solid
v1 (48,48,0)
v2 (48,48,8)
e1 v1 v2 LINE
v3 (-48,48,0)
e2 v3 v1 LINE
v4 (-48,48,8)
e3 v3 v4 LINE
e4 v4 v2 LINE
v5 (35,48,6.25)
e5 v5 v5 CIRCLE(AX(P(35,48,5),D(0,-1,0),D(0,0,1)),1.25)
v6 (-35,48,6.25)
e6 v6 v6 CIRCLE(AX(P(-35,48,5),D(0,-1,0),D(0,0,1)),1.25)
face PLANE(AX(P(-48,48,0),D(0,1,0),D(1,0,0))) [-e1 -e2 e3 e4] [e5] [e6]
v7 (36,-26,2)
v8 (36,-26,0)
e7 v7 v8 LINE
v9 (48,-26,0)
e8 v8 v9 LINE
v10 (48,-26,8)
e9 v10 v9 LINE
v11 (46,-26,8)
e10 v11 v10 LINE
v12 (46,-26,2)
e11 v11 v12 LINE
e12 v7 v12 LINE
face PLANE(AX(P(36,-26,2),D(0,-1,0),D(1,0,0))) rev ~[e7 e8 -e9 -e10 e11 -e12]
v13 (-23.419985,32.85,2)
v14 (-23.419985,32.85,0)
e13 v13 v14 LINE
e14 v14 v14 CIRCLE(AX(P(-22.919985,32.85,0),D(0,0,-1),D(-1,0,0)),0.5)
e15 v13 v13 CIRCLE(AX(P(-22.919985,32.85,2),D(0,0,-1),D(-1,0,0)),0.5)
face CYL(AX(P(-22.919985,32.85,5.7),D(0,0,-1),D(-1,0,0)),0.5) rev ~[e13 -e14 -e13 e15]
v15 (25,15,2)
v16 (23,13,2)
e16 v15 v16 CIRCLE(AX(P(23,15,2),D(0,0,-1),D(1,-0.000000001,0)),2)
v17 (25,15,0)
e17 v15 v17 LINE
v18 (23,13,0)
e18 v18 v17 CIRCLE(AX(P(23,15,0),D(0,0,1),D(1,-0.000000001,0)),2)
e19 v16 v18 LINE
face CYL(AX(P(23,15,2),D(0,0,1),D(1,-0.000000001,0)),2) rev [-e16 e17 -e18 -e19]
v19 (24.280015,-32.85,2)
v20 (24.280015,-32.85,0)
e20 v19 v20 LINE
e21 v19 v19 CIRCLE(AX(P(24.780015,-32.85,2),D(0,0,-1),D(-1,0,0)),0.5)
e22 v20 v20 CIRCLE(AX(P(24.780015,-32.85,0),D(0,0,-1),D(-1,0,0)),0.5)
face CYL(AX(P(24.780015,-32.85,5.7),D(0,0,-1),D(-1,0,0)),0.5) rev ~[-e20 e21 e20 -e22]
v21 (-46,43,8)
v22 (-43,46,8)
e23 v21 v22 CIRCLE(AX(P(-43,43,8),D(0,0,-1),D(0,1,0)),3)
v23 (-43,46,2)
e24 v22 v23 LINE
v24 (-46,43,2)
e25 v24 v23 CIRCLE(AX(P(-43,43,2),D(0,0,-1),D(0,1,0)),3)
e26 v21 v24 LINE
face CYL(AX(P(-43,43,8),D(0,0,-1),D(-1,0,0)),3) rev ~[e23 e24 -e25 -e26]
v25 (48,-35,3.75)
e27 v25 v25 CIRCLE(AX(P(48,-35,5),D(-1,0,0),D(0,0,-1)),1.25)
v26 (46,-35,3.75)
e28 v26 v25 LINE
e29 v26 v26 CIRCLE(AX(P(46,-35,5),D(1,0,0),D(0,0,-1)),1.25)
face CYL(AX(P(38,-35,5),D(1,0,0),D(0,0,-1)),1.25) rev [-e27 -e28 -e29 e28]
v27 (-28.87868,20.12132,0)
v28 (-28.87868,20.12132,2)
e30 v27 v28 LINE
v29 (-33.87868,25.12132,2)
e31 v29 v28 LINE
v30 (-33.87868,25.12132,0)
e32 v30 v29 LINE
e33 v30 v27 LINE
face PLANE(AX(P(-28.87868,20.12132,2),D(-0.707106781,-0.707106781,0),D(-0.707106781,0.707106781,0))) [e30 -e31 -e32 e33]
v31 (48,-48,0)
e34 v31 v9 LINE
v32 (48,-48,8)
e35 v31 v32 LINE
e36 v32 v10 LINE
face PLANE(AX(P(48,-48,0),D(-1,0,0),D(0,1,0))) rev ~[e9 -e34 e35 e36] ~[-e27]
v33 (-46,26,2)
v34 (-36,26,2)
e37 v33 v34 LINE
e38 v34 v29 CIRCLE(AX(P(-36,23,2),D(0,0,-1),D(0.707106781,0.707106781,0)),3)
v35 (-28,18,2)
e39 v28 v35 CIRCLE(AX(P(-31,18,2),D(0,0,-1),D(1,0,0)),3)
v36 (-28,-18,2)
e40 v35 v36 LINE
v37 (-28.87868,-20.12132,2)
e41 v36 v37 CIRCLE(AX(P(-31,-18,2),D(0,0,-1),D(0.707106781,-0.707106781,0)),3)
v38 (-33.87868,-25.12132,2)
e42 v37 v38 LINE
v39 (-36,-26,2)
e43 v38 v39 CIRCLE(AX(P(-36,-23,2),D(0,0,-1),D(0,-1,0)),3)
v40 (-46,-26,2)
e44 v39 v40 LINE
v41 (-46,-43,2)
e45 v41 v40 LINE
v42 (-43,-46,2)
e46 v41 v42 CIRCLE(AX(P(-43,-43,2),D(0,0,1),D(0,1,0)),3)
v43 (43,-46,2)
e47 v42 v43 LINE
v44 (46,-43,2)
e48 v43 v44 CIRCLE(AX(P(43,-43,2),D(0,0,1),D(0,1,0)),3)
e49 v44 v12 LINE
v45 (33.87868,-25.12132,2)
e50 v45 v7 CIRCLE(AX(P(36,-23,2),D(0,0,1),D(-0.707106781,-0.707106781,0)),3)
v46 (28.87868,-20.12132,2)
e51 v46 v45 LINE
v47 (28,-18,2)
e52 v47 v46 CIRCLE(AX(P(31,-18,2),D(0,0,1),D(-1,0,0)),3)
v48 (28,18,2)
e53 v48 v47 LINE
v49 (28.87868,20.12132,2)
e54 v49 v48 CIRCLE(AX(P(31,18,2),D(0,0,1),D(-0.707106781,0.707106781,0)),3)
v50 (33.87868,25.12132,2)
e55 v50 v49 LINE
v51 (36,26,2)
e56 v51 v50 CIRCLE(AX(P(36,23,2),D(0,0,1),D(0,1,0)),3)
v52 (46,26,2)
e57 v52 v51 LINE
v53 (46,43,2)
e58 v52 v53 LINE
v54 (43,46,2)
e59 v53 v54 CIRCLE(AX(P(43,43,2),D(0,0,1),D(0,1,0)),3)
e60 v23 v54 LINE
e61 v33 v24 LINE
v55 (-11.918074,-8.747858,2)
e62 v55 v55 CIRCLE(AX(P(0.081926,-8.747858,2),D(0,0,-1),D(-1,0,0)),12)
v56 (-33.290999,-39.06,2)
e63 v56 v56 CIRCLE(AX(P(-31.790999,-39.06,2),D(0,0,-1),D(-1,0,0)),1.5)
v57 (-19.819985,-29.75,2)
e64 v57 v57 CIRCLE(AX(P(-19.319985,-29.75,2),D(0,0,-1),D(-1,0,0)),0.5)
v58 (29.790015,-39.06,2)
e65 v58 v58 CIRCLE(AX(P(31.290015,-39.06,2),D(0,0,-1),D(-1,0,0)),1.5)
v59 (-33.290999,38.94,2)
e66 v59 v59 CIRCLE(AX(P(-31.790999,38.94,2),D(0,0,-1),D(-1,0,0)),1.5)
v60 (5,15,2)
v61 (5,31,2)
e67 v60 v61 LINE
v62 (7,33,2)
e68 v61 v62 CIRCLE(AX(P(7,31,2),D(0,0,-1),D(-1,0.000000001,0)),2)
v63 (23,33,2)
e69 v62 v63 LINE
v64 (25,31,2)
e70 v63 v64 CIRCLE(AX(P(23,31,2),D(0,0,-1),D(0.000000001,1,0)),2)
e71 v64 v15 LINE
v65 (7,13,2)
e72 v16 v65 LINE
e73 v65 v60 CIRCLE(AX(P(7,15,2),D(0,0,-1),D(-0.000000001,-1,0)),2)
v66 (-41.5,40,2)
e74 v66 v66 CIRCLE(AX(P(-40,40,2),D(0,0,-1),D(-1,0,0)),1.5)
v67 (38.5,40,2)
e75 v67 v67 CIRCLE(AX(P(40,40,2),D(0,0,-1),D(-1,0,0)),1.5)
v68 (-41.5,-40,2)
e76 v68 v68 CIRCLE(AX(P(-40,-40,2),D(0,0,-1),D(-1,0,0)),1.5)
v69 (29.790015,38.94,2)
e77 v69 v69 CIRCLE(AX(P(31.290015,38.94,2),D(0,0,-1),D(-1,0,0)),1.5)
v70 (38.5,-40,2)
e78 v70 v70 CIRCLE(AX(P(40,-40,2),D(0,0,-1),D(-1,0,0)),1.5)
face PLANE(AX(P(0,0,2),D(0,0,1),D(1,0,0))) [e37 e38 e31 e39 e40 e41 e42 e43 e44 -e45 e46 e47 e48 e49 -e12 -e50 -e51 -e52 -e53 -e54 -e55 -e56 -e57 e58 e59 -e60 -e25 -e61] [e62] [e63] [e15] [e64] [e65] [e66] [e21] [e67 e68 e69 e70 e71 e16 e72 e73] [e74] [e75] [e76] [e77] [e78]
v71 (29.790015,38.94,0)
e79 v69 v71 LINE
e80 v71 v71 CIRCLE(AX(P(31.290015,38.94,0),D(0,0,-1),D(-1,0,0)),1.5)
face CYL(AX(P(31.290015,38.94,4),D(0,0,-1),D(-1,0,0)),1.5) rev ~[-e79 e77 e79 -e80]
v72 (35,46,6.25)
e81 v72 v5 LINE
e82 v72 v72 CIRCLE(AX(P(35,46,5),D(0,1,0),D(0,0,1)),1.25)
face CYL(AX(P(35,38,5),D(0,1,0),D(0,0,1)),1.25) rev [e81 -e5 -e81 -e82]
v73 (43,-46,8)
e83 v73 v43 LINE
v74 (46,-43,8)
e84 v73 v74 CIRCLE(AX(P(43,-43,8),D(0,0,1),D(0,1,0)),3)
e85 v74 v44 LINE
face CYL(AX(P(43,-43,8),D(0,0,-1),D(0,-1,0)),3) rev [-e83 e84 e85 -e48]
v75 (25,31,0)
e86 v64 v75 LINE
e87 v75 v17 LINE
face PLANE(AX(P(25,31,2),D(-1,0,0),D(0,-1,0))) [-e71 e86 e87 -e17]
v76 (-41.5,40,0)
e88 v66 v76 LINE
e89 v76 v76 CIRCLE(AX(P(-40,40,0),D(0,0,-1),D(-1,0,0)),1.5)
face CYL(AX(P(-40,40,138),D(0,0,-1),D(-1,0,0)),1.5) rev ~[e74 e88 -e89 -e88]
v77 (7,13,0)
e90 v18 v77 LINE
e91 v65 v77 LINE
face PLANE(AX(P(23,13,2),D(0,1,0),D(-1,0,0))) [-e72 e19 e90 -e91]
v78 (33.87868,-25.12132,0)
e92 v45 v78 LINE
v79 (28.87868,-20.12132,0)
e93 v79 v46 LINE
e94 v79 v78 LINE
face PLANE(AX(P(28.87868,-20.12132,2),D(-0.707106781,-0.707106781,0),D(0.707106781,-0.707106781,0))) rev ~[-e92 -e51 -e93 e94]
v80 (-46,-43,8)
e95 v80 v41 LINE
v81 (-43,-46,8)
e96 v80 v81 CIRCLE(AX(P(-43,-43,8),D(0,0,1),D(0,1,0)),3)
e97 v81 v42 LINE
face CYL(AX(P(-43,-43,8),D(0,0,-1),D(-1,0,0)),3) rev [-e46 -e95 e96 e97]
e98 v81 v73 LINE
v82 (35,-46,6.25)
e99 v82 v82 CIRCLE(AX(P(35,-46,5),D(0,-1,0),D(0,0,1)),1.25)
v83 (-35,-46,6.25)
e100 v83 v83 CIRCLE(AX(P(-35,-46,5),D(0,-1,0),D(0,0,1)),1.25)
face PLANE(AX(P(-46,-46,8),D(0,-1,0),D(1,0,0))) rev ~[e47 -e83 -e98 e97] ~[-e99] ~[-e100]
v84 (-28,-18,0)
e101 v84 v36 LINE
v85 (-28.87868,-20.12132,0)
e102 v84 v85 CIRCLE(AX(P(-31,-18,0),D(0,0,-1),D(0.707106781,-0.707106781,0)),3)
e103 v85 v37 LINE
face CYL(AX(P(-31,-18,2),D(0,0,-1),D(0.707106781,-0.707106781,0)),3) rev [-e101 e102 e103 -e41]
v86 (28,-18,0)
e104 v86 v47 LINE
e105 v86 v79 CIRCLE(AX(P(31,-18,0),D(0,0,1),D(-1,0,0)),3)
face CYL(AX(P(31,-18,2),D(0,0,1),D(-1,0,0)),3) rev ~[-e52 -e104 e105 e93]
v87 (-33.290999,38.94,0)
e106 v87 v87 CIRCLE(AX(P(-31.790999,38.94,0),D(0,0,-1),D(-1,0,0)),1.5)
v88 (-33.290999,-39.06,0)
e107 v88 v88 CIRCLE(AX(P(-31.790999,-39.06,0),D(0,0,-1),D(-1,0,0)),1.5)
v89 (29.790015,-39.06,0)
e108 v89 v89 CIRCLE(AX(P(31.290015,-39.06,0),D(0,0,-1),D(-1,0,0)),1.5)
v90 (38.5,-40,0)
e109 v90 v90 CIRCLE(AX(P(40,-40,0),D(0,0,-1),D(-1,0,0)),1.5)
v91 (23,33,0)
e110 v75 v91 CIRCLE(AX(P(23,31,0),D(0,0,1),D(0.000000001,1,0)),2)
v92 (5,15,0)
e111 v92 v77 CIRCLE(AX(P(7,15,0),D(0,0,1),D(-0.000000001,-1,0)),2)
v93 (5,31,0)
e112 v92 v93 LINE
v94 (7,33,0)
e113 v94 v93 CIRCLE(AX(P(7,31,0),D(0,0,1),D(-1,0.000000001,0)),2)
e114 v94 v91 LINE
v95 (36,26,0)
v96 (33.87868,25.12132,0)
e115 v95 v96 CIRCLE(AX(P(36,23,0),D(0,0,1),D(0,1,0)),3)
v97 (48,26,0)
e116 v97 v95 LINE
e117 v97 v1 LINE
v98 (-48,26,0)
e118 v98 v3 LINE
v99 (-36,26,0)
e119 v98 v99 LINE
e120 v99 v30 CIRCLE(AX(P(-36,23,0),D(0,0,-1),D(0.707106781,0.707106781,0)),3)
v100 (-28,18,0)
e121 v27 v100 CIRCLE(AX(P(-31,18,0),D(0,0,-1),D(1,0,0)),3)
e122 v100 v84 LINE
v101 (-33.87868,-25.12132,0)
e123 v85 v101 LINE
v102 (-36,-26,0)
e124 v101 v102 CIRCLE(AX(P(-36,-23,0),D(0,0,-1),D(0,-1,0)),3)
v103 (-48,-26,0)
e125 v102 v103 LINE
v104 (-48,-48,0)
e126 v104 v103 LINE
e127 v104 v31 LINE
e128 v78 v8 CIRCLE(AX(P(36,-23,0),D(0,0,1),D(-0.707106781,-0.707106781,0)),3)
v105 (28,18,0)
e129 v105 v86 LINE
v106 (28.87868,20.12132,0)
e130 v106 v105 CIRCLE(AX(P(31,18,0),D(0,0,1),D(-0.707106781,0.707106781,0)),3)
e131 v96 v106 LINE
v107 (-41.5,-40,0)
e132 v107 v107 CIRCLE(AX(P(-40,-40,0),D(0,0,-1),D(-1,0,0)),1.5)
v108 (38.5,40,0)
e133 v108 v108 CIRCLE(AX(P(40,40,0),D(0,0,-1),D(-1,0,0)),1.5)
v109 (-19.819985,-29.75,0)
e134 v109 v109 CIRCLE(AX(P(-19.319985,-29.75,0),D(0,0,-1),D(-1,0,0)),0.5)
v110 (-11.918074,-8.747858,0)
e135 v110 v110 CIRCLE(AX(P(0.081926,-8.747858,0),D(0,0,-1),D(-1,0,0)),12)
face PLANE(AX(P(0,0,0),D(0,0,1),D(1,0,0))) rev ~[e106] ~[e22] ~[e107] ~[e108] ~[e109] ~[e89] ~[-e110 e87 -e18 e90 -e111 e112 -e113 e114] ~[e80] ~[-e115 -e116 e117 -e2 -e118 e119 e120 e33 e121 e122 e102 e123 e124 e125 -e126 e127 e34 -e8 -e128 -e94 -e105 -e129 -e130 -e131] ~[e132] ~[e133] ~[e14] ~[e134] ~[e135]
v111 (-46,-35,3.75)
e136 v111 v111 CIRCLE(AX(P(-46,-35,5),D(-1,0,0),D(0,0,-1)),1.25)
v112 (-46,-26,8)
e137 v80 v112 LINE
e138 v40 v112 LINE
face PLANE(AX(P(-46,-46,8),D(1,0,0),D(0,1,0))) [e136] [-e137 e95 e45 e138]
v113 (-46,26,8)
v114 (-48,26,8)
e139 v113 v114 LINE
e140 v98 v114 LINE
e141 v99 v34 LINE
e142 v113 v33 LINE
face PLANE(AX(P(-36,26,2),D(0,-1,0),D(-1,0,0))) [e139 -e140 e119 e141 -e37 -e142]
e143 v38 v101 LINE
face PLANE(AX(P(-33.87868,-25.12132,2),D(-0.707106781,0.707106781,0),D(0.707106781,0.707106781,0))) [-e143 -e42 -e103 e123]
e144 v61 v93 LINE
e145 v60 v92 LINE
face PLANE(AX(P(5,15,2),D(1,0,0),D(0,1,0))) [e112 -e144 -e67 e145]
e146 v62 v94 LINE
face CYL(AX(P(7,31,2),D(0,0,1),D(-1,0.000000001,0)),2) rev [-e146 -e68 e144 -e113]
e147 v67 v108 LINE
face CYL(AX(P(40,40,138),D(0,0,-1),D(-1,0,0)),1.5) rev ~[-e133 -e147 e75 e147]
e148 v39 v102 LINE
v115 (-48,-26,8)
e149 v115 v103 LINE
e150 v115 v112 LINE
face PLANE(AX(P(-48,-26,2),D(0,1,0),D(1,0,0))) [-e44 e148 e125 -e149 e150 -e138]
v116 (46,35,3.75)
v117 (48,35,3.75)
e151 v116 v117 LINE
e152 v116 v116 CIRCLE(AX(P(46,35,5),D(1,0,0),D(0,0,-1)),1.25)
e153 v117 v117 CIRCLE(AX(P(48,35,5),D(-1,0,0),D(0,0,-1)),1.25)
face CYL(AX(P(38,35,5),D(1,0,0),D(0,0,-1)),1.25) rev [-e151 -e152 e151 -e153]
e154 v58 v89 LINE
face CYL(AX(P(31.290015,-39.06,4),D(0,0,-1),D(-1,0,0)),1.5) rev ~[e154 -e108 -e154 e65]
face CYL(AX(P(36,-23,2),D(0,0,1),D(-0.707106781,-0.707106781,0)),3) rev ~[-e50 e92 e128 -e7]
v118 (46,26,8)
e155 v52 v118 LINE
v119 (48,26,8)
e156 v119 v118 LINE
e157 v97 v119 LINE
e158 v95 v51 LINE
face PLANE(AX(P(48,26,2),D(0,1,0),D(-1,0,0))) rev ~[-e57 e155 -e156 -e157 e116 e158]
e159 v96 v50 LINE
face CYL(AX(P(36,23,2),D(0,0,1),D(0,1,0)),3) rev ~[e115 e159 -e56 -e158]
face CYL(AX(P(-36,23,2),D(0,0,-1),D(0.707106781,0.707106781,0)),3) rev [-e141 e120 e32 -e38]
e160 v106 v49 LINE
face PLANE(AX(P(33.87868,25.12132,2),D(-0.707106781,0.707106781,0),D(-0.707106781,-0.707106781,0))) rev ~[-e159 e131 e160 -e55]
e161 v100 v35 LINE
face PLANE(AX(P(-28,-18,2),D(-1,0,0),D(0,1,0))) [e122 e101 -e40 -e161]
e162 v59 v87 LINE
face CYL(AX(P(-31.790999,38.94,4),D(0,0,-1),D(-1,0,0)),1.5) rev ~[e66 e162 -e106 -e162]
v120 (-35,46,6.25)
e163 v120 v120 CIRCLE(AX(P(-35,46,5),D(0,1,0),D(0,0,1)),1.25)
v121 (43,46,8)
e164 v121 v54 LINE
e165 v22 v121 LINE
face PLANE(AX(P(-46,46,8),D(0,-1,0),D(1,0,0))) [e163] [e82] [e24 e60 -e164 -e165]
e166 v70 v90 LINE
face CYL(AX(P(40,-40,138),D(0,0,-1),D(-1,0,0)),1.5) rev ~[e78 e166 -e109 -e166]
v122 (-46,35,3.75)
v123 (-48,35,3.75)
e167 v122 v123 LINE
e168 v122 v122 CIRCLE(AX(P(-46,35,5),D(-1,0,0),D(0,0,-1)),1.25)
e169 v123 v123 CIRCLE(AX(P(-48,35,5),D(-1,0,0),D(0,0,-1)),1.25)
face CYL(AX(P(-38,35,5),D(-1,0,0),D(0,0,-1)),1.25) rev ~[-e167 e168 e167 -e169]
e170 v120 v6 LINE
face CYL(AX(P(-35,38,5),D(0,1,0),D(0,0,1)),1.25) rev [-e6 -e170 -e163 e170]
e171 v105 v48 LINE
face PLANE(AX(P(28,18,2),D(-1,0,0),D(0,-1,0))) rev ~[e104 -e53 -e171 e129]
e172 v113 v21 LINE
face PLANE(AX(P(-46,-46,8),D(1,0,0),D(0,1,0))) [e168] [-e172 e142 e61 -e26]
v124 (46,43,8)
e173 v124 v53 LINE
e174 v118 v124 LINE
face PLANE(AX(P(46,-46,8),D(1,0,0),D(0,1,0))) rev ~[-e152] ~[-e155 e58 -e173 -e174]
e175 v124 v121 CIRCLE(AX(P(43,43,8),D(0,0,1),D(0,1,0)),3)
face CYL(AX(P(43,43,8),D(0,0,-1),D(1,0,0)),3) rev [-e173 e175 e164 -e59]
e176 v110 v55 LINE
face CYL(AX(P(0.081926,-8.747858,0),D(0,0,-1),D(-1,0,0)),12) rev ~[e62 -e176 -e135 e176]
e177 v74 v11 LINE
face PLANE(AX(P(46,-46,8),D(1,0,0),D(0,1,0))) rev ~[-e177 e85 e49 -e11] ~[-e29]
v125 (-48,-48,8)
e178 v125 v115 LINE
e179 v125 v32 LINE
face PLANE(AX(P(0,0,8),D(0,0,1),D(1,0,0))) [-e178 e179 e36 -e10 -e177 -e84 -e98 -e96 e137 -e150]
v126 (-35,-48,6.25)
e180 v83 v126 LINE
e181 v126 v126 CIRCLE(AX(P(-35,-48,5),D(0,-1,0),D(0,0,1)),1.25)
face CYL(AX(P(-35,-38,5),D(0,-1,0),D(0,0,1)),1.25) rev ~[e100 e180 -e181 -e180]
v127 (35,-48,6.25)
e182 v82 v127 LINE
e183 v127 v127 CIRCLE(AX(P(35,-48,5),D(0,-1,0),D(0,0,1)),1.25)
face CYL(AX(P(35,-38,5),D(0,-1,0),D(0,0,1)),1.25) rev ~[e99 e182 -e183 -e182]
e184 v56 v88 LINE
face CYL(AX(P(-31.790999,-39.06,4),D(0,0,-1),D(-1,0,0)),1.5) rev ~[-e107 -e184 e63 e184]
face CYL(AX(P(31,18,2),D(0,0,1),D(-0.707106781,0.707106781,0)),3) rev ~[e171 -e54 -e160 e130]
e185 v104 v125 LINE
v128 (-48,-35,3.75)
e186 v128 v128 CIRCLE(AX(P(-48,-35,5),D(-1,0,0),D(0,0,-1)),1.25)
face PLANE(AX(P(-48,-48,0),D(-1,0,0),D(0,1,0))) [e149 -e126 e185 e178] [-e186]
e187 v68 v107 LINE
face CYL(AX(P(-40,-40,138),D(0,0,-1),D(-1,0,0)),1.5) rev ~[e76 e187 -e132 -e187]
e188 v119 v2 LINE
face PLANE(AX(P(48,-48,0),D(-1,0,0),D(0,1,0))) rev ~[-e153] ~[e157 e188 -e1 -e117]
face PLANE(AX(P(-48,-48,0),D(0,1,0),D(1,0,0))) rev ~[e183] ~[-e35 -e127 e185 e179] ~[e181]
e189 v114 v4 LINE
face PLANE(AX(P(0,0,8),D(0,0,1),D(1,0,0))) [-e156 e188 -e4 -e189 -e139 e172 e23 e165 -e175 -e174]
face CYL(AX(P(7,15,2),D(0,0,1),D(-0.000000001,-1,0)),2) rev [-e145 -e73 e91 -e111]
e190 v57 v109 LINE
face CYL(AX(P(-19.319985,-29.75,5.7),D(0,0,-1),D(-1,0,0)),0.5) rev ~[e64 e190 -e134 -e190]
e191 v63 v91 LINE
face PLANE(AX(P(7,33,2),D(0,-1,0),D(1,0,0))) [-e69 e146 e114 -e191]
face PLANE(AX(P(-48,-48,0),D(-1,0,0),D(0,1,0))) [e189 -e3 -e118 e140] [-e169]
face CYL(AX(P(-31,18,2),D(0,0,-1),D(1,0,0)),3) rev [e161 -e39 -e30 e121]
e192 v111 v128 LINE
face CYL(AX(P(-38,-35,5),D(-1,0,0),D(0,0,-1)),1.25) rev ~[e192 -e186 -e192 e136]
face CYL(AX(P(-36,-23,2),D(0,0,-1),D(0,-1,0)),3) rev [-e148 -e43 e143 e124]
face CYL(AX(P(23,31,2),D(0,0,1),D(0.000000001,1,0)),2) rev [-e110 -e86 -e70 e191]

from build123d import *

# Parameters (mm, degrees)
SKETCH1_W                      = 96
SKETCH1_H                      = 96
BOSS_EXTRUDE1_DEPTH            = 8
SKETCH2_W                      = 92
SKETCH2_H                      = 92
COMPONENT_PLATFORM_DEPTH       = 6
CABLE_SLOTS_DEPTH              = 6
INNER_CORNER_FILLETS_R         = 3
M3X0_5_TAPPED_HOLE1_AT_2_COUNT = 2
M3X0_5_TAPPED_HOLE1_AT_2_PITCH = 70
M3X0_5_TAPPED_HOLE2_AT_2_COUNT = 2
M3X0_5_TAPPED_HOLE2_AT_2_PITCH = 70
F_1_0MM_DOWEL_HOLE1_D          = 1
F_1_0MM_DOWEL_HOLE1_DEPTH      = 3.7
F_1_0MM_DOWEL_HOLE1_TIP        = 0.30043031
SKETCH29_R                     = 12
HDD_EXTRUSION_CUTOUT_DEPTH     = 10
HDD_EXTRUSION_CUTOUT_2_DEPTH   = 10
F_3_0MM_DOWEL_HOLE1_D          = 3
F_3_0MM_DOWEL_HOLE1_DEPTH      = 2
F_3_0MM_DOWEL_HOLE2_D          = 3


with BuildPart() as part:
    # Sketch1 → Boss-Extrude1 (new body)
    with BuildSketch(Plane.XY):
        Rectangle(SKETCH1_W, SKETCH1_H)
    extrude(amount=BOSS_EXTRUDE1_DEPTH)

    # Sketch2 → Component Platform (cut)
    with BuildSketch(Plane.XY.offset(8)):
        Rectangle(SKETCH2_W, SKETCH2_H)
    extrude(amount=-COMPONENT_PLATFORM_DEPTH, mode=Mode.SUBTRACT)

    # Sketch3 → Cable Slots (cut, symmetric)
    with BuildSketch(Plane.XY.offset(2)):
        with BuildLine():
            Line((-33.878679656, -25.121320344), (-28.878679656, -20.121320344))
            ThreePointArc((-28.878679656, -20.121320344), (-28.228361402, -19.148050297), (-28, -18))
            Line((-28, -18), (-28, 18))
            ThreePointArc((-28, 18), (-28.228361402, 19.148050297), (-28.878679656, 20.121320344))
            Line((-28.878679656, 20.121320344), (-33.878679656, 25.121320344))
            ThreePointArc((-33.878679656, 25.121320344), (-34.851949703, 25.771638598), (-36, 26))
            Line((-36, 26), (-48, 26))
            Line((-48, 26), (-48, -26))
            Line((-48, -26), (-36, -26))
            ThreePointArc((-36, -26), (-34.851949703, -25.771638598), (-33.878679656, -25.121320344))
        make_face()
        with BuildLine():
            Line((48, -26), (48, 26))
            Line((48, 26), (36, 26))
            ThreePointArc((36, 26), (34.851949703, 25.771638598), (33.878679656, 25.121320344))
            Line((33.878679656, 25.121320344), (28.878679656, 20.121320344))
            ThreePointArc((28.878679656, 20.121320344), (28.228361402, 19.148050297), (28, 18))
            Line((28, 18), (28, -18))
            ThreePointArc((28, -18), (28.228361402, -19.148050297), (28.878679656, -20.121320344))
            Line((28.878679656, -20.121320344), (33.878679656, -25.121320344))
            ThreePointArc((33.878679656, -25.121320344), (34.851949703, -25.771638598), (36, -26))
            Line((36, -26), (48, -26))
        make_face()
    extrude(amount=CABLE_SLOTS_DEPTH, both=True, mode=Mode.SUBTRACT)

    # Inner Corner Fillets
    inner_corner_fillets_edges = [part.edges().sort_by_distance(p)[0] for p in [
        (-46, -46, 5),
        (-46, 46, 5),
        (46, 46, 5),
        (46, -46, 5),
    ]]
    fillet(inner_corner_fillets_edges, radius=INNER_CORNER_FILLETS_R)

    # Sketch14 → M3x0.5 Tapped Hole1 (revolve, cut)
    with BuildSketch(Plane(origin=(48, -35, 5), x_dir=(0, 0, -1), z_dir=(0, 1, 0))):
        Polygon((0, 0), (0, 10.751075774), (1.25, 10), (1.25, 0), align=None)
    m3x0_5_tapped_hole1 = revolve(axis=Axis((54.35, -35, 5), (-1, 0, 0)), mode=Mode.SUBTRACT)

    # M3x0.5 Tapped Hole1 at 2: M3x0.5 Tapped Hole1 ×2
    with Locations(*[(0, i * M3X0_5_TAPPED_HOLE1_AT_2_PITCH, 0) for i in range(1, M3X0_5_TAPPED_HOLE1_AT_2_COUNT)]):
        add(m3x0_5_tapped_hole1, mode=Mode.SUBTRACT)

    # Sketch16 → M3x0.5 Tapped Hole2 (revolve, cut)
    with BuildSketch(Plane(origin=(35, 48, 5), x_dir=(0, 0, 1), z_dir=(1, 0, 0))):
        Polygon((0, 0), (0, 10.751075774), (1.25, 10), (1.25, 0), align=None)
    m3x0_5_tapped_hole2 = revolve(axis=Axis((35, 54.35, 5), (0, -1, 0)), mode=Mode.SUBTRACT)

    # M3x0.5 Tapped Hole2 at 2: M3x0.5 Tapped Hole2 ×2
    with Locations(*[(-i * M3X0_5_TAPPED_HOLE2_AT_2_PITCH, 0, 0) for i in range(1, M3X0_5_TAPPED_HOLE2_AT_2_COUNT)]):
        add(m3x0_5_tapped_hole2, mode=Mode.SUBTRACT)

    # Mirror1: M3x0.5 Tapped Hole1 across plane
    add(m3x0_5_tapped_hole1.mirror(Plane(origin=(0, 0, 0), x_dir=(0, 0, 1), z_dir=(1, 0, 0))), mode=Mode.SUBTRACT)

    # Mirror1 copy 1 sketch → Mirror1 copy 1 (revolve, cut)
    with BuildSketch(Plane(origin=(-48, 35, 5), x_dir=(0, 0, -1), z_dir=(0, 1, 0))):
        Polygon((0, 0), (0, -10.751075774), (1.25, -10), (1.25, 0), align=None)
    revolve(axis=Axis((-54.35, 35, 5), (-1, 0, 0)), mode=Mode.SUBTRACT)

    # Mirror2: M3x0.5 Tapped Hole2 across plane
    add(m3x0_5_tapped_hole2.mirror(Plane(origin=(0, 0, 0), x_dir=(0, 0, 1), z_dir=(0, -1, 0))), mode=Mode.SUBTRACT)

    # Mirror2 copy 1 sketch → Mirror2 copy 1 (revolve, cut)
    with BuildSketch(Plane(origin=(-35, -48, 5), x_dir=(0, 0, 1), z_dir=(1, 0, 0))):
        Polygon((0, 0), (0, -10.751075774), (1.25, -10), (1.25, 0), align=None)
    revolve(axis=Axis((-35, -54.35, 5), (0, -1, 0)), mode=Mode.SUBTRACT)

    # Ø1.0mm Dowel Hole1
    with Locations(Plane.XY.offset(2)):
        with Locations((-19.31998517, -29.75), (24.78001483, -32.85), (-22.91998517, 32.85)):
            Hole(F_1_0MM_DOWEL_HOLE1_D / 2, depth=F_1_0MM_DOWEL_HOLE1_DEPTH)
            with Locations((0, 0, -(F_1_0MM_DOWEL_HOLE1_DEPTH + F_1_0MM_DOWEL_HOLE1_TIP / 2))):  # 118° drill point
                Cone(0, F_1_0MM_DOWEL_HOLE1_D / 2, F_1_0MM_DOWEL_HOLE1_TIP, mode=Mode.SUBTRACT)

    # Sketch29 → HDD Extrusion Cutout (cut)
    with BuildSketch(Plane(origin=(0, 0, 0), x_dir=(-1, 0, 0), z_dir=(0, 0, -1))):
        with Locations((-0.08192631, -8.74785827)):
            Circle(SKETCH29_R)
    extrude(amount=-HDD_EXTRUSION_CUTOUT_DEPTH, mode=Mode.SUBTRACT)

    # Sketch9 → HDD Extrusion Cutout 2 (cut)
    with BuildSketch(Plane.XY.offset(2)):
        with BuildLine():
            Line((25, 31), (25, 15))
            ThreePointArc((25, 15), (24.414213562, 13.585786438), (23, 13))
            Line((23, 13), (7, 13))
            ThreePointArc((7, 13), (5.585786438, 13.585786438), (5, 15))
            Line((5, 15), (5, 31))
            ThreePointArc((5, 31), (5.585786438, 32.414213562), (7, 33))
            Line((7, 33), (23, 33))
            ThreePointArc((23, 33), (24.414213562, 32.414213562), (25, 31))
        make_face()
    extrude(amount=-HDD_EXTRUSION_CUTOUT_2_DEPTH, mode=Mode.SUBTRACT)

    # Ø3.0mm Dowel Hole1
    with Locations(Plane.XY.offset(2)):
        with Locations((-31.790998517, -39.06), (31.29001483, -39.06), (31.29001483, 38.94), (-31.790998517, 38.94)):
            Hole(F_3_0MM_DOWEL_HOLE1_D / 2, depth=F_3_0MM_DOWEL_HOLE1_DEPTH)

    # Ø3.0mm Dowel Hole2 (through all)
    with Locations(Plane.XY.offset(2)):
        with Locations((40, -40), (-40, -40), (-40, 40), (40, 40)):
            Hole(F_3_0MM_DOWEL_HOLE2_D / 2)


solid = part.part
